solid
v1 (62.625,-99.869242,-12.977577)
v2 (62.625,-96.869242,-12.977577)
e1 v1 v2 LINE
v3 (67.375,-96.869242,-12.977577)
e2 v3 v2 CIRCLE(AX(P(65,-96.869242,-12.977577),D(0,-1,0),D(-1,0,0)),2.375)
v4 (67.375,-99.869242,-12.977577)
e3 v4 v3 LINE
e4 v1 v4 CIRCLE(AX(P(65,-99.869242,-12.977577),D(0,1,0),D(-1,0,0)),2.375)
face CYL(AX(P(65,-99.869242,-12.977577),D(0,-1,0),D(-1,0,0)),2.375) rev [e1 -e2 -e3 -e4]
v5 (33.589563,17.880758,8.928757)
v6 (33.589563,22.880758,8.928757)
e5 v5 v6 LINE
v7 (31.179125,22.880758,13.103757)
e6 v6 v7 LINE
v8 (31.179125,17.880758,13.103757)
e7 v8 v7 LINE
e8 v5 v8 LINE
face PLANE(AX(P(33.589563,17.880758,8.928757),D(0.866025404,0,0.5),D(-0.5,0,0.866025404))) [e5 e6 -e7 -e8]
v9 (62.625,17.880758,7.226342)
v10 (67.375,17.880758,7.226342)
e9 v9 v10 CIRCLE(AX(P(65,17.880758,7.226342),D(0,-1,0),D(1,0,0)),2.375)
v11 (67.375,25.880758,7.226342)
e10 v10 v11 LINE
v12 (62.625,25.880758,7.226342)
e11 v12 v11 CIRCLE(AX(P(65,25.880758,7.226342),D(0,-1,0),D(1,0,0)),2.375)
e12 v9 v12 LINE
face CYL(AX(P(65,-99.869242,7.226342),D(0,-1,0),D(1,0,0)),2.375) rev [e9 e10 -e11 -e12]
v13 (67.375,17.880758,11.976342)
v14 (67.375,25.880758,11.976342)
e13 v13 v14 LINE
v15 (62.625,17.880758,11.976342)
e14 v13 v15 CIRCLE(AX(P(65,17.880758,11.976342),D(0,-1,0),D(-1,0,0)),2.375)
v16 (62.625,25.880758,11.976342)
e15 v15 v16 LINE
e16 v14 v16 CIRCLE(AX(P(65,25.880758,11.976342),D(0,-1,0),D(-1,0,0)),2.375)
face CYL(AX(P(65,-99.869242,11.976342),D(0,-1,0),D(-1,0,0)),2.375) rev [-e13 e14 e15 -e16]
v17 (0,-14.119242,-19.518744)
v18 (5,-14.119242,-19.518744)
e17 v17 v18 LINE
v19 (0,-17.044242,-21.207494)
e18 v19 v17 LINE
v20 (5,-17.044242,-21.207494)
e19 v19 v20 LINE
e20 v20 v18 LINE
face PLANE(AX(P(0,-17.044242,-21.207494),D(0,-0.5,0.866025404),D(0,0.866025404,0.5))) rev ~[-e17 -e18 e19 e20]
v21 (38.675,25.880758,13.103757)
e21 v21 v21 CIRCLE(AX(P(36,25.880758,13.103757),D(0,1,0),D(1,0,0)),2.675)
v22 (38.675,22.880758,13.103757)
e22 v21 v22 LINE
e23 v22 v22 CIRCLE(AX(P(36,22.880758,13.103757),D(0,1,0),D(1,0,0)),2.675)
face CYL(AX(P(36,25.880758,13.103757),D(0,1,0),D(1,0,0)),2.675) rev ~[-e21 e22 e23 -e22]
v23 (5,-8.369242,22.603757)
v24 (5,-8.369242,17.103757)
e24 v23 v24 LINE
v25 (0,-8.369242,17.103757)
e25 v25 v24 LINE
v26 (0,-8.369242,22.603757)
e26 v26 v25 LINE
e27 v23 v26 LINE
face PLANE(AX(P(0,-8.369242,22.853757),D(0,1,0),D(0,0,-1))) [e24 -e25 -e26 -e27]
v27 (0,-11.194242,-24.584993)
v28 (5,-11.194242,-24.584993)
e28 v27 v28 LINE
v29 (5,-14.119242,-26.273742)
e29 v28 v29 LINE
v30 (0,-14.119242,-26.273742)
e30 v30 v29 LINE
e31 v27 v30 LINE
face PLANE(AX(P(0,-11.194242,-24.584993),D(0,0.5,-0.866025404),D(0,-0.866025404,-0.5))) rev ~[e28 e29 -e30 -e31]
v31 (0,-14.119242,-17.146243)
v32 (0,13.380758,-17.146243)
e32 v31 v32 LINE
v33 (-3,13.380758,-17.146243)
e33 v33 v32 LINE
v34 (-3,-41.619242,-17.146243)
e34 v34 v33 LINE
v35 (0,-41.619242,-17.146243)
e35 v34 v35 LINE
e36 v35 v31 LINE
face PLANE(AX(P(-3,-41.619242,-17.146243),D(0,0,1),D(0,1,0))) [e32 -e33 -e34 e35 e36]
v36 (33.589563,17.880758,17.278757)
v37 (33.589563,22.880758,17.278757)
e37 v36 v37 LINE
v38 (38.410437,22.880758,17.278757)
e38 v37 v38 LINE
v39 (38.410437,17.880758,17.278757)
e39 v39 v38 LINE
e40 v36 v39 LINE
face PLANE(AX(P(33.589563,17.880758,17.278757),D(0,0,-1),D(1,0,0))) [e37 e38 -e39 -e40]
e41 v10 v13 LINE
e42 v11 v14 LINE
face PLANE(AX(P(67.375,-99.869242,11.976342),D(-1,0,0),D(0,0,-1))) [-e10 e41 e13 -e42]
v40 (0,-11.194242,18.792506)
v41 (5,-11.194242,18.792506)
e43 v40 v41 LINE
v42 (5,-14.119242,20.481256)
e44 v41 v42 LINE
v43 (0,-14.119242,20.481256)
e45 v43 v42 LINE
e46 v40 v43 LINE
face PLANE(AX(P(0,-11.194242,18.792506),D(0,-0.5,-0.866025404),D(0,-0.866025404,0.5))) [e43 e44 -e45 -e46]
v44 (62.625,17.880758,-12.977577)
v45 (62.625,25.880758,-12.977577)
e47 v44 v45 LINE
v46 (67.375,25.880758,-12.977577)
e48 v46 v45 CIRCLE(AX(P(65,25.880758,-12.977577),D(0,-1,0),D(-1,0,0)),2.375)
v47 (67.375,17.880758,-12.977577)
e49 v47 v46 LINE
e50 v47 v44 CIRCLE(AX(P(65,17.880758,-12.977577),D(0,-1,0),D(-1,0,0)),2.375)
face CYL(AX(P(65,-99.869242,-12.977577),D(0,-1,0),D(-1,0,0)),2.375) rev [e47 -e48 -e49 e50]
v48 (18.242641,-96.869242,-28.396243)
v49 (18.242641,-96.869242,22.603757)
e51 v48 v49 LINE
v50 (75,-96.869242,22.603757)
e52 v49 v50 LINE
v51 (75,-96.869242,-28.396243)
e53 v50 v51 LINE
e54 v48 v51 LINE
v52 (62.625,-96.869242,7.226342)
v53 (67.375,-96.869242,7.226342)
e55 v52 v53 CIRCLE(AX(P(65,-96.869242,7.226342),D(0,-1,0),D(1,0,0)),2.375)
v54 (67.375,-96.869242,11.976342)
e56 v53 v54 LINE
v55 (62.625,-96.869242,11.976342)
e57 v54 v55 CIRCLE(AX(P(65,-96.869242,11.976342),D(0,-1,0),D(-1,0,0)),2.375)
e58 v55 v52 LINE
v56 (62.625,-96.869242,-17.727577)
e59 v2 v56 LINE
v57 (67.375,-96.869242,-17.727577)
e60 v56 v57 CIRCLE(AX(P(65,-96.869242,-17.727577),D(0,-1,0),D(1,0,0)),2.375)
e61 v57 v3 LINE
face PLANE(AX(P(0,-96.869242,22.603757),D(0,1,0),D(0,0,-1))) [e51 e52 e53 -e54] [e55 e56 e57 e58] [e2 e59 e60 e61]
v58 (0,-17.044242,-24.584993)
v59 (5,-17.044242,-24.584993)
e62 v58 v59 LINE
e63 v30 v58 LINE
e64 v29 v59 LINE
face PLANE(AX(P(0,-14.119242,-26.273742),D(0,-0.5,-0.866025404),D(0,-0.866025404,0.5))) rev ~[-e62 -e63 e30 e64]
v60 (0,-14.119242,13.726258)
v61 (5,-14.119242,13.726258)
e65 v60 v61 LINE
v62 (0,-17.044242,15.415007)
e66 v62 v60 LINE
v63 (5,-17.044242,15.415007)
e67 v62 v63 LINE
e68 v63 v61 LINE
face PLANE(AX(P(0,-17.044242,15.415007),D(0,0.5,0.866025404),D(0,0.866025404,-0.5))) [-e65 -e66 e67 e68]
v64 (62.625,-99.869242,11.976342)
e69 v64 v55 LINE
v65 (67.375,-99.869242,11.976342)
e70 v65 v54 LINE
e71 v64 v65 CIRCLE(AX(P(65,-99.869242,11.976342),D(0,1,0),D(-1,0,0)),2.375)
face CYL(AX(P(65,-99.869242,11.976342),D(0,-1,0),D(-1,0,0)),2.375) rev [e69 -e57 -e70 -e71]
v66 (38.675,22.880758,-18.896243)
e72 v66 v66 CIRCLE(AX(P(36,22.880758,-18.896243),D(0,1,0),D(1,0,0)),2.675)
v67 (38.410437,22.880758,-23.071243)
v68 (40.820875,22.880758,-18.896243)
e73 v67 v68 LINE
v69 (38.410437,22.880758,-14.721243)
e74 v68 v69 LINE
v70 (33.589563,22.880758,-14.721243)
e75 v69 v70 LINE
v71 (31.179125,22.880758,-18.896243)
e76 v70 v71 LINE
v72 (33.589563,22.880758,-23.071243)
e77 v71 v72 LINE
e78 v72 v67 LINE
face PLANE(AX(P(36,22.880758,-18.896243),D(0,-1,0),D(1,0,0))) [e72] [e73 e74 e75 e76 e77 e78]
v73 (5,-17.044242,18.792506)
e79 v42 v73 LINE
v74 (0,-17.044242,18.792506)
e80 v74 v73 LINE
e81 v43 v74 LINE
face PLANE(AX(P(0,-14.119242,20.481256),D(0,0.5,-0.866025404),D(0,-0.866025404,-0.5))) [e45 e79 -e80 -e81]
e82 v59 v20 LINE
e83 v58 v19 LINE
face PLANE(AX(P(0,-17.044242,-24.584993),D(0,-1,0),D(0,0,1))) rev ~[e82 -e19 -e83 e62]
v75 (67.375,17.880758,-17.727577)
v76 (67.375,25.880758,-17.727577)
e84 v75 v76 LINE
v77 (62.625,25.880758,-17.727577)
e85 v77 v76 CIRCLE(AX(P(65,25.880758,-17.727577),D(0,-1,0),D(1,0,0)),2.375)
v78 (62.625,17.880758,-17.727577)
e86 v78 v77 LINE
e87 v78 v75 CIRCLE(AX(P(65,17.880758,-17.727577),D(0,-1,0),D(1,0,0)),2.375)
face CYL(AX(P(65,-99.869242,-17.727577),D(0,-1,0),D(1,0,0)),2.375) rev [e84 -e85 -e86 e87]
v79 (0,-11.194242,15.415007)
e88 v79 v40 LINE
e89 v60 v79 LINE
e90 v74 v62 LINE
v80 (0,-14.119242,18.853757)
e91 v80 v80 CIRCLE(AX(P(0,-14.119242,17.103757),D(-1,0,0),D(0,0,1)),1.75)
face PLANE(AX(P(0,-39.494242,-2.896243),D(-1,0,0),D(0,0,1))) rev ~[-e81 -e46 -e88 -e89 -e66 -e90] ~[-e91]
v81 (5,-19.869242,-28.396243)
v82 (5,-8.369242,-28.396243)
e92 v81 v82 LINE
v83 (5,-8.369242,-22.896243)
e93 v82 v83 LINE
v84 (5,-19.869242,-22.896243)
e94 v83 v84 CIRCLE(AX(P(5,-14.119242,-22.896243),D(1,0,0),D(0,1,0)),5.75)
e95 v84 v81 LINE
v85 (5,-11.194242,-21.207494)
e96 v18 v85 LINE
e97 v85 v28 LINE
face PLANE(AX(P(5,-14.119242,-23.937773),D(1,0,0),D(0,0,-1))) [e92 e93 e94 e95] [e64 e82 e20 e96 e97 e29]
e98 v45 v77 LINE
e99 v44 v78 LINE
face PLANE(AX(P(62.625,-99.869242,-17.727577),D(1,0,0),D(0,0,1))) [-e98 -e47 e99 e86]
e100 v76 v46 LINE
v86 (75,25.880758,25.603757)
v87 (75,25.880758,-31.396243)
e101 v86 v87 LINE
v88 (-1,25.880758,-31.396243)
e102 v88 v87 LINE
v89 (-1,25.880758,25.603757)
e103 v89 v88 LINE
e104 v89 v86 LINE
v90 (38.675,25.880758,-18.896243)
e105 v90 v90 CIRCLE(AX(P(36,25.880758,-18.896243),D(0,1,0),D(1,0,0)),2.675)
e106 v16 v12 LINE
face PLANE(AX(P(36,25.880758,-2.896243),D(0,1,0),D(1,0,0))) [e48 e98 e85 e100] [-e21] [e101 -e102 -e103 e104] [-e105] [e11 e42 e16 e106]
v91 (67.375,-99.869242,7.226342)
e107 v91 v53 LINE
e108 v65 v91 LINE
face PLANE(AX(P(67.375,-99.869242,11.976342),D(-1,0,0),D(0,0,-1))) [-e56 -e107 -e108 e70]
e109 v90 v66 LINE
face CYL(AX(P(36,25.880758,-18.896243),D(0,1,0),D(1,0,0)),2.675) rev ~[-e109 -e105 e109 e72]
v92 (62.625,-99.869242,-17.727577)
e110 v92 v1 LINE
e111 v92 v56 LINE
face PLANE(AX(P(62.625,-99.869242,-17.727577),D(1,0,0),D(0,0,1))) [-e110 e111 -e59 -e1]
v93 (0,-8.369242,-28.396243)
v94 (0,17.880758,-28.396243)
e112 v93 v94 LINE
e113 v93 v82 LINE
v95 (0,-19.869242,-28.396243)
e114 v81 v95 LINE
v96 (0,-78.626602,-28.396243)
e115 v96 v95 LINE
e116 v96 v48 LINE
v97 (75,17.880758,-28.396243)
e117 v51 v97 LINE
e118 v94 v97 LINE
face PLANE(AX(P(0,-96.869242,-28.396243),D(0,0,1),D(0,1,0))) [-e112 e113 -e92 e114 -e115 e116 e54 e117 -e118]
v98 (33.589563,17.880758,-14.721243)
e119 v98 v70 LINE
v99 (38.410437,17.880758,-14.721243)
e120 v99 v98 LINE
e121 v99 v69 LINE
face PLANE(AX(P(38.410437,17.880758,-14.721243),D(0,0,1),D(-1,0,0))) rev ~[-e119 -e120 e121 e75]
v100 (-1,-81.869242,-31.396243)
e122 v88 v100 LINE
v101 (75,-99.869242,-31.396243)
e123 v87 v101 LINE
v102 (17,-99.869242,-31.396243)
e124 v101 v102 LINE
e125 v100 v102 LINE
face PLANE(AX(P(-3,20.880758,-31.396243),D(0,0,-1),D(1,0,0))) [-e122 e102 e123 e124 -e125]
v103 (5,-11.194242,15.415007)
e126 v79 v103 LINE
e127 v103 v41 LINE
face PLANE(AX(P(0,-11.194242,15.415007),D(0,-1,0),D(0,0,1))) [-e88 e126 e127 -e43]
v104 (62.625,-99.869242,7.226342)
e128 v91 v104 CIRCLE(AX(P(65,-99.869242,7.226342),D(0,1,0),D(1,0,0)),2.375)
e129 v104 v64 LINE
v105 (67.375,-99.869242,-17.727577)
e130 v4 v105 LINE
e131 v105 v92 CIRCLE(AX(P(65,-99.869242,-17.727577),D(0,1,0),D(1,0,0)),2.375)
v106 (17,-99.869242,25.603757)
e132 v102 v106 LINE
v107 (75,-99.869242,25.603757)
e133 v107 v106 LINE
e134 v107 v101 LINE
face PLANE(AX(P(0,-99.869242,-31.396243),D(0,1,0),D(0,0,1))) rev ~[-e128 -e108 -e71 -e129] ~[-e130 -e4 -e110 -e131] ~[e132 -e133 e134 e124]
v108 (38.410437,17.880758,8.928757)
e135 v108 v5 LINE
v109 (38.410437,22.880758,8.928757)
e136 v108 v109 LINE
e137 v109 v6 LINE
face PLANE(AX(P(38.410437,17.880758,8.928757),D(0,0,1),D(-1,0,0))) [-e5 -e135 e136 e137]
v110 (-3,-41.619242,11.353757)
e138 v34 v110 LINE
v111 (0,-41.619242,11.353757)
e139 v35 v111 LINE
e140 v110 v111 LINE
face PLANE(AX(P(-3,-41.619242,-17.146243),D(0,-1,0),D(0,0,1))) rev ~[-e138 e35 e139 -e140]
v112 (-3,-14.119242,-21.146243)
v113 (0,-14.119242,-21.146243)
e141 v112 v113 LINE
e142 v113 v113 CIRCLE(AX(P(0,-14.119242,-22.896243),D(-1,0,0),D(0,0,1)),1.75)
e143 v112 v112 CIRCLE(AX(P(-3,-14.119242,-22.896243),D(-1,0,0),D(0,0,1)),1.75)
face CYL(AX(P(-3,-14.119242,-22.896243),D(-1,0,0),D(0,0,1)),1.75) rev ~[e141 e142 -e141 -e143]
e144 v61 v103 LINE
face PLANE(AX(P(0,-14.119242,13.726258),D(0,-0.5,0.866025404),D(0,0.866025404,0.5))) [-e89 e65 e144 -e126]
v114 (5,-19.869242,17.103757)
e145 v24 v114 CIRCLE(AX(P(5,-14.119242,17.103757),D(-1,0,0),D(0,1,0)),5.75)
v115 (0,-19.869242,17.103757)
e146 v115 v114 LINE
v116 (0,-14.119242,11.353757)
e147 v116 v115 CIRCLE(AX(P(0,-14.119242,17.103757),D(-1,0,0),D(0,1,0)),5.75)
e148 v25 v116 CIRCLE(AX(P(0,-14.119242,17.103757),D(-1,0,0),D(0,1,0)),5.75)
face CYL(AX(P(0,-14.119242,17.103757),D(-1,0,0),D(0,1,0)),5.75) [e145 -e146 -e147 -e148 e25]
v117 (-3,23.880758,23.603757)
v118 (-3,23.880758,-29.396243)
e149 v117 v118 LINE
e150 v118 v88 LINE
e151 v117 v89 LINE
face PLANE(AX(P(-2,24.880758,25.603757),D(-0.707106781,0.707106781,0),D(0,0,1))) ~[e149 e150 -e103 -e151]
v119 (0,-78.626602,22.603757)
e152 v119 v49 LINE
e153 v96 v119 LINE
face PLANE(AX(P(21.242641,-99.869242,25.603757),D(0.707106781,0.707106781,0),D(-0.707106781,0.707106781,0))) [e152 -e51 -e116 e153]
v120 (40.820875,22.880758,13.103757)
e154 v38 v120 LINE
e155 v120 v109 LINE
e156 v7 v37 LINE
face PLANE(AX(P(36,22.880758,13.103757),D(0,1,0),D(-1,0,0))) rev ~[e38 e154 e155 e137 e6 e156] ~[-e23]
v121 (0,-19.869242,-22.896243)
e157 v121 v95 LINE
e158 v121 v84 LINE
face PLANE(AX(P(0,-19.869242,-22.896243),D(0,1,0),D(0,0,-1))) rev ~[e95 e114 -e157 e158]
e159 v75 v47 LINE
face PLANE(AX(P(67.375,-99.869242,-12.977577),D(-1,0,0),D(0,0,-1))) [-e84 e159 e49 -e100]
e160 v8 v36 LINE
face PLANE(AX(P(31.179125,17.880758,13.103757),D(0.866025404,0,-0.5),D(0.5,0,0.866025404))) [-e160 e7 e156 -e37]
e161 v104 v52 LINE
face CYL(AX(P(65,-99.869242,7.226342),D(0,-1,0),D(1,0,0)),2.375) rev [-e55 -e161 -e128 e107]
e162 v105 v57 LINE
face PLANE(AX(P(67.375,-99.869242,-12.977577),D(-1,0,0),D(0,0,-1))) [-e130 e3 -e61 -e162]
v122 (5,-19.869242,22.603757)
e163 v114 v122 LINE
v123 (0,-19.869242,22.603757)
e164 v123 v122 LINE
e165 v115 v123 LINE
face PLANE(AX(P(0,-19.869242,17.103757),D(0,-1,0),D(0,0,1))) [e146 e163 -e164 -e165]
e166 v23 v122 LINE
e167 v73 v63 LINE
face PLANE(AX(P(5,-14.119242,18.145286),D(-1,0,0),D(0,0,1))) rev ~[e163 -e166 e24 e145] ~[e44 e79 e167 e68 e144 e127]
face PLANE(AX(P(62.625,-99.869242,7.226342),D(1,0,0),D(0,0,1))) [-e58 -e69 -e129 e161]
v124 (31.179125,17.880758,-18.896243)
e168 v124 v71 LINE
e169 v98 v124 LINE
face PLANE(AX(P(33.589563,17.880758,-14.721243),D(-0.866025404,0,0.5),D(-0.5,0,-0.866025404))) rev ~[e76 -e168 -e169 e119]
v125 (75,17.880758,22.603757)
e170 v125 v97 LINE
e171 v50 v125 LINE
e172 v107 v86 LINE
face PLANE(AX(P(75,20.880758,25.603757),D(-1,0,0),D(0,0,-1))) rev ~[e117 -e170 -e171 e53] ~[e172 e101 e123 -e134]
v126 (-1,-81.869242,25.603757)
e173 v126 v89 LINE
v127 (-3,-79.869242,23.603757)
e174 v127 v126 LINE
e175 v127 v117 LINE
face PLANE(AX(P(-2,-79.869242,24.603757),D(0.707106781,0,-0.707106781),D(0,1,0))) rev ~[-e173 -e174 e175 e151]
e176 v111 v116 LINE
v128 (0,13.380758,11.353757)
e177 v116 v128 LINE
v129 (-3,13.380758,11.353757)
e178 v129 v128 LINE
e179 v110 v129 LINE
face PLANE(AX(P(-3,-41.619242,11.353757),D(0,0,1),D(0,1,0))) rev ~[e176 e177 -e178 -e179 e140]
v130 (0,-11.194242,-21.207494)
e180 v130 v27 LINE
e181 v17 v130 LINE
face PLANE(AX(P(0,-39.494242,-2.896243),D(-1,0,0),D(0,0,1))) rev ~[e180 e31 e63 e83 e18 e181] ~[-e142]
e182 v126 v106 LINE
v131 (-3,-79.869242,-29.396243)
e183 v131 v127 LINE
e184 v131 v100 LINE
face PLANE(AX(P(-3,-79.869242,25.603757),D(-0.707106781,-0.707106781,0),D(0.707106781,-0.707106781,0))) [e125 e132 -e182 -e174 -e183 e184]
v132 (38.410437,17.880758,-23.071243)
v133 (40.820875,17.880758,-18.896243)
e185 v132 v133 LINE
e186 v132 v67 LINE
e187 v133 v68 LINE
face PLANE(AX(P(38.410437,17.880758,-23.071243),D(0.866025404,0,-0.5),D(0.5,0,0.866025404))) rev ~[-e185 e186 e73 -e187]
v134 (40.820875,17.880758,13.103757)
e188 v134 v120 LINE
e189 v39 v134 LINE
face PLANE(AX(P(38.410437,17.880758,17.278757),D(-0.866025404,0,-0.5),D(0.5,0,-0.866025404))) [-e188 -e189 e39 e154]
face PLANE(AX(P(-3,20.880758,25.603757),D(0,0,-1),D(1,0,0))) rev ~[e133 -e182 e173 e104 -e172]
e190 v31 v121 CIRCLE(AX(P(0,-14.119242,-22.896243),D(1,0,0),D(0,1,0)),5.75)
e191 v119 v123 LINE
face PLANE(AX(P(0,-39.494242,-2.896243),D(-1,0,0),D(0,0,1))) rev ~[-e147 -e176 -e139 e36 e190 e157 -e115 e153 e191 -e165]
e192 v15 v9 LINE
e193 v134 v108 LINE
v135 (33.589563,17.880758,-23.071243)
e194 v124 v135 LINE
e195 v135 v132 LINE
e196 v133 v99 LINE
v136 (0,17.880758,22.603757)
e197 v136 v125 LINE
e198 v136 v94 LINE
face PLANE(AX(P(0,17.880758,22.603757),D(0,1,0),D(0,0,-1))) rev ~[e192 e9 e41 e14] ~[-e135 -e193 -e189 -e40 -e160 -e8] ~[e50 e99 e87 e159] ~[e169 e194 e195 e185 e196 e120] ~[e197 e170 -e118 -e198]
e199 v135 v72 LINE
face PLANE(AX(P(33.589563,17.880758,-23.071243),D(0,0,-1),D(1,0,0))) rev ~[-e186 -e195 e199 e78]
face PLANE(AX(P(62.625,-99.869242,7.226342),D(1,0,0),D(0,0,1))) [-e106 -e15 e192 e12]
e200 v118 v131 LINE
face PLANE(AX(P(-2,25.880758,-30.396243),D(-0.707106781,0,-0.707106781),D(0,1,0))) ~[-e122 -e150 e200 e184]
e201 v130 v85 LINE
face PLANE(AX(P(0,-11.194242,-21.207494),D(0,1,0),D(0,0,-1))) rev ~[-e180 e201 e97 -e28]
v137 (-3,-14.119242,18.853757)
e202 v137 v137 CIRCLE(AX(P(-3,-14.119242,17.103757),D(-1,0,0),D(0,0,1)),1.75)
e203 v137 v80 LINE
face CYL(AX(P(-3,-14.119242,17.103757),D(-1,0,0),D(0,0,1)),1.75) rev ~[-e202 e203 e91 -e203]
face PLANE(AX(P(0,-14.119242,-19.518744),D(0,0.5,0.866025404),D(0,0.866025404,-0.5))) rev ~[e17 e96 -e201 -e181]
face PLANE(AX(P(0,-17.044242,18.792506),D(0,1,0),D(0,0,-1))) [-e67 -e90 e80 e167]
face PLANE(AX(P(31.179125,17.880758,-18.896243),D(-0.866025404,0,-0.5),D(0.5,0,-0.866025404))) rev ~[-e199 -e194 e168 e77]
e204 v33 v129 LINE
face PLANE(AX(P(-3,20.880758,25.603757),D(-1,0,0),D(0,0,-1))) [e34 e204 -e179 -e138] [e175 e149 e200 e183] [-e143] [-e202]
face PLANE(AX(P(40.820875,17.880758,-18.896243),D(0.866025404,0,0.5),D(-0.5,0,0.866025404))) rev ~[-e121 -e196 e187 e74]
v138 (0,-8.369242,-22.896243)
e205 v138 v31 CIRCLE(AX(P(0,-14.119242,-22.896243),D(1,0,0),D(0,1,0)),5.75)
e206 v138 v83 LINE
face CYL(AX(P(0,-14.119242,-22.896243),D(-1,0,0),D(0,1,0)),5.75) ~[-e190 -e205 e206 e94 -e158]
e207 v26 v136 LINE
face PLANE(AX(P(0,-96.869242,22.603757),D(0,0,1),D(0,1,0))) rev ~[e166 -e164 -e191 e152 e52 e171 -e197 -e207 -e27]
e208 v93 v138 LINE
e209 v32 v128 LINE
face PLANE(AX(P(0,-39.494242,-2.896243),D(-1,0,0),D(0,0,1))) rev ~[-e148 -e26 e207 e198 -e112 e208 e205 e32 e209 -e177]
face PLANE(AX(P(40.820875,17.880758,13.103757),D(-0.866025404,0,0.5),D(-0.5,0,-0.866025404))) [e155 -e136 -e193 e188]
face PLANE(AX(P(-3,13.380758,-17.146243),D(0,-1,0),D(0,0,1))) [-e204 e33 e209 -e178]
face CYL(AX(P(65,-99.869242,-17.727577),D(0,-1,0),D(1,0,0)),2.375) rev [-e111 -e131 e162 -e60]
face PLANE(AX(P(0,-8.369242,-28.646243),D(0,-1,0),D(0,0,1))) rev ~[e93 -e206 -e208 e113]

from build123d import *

# Parameters (mm, degrees)
SKETCH2_W           = 57
SKETCH2_H           = 120.75
SKETCH2_W_2         = 51
SKETCH2_H_2         = 114.75
BOSS_EXTRUDE1_DEPTH = 75
SKETCH3_W           = 57
SKETCH3_H           = 120.75
BOSS_EXTRUDE2_DEPTH = 3
SKETCH4_W           = 78
SKETCH4_H           = 57
BOSS_EXTRUDE3_DEPTH = 5
SKETCH6_R           = 2.675
CUT_EXTRUDE2_DEPTH  = 10
CUT_EXTRUDE3_DEPTH  = 58
BOSS_EXTRUDE4_REACH = 59
CUT_EXTRUDE7_DEPTH  = 126.75
SKETCH18_R          = 1.75
SKETCH18_W          = 28.5
SKETCH18_H          = 55
CUT_EXTRUDE8_DEPTH  = 10
BOSS_EXTRUDE6_DEPTH = 5
CUT_EXTRUDE9_DEPTH  = 5
CHAMFER1_SIZE       = 2


with BuildPart() as part:
    # Sketch2 → Boss-Extrude1 (new body)
    with BuildSketch(Plane(origin=(0, 0, 0), x_dir=(0, 0, -1), z_dir=(1, 0, 0))):
        with Locations((2.896243414, -39.494242434)):
            Rectangle(SKETCH2_W, SKETCH2_H)
        with Locations((2.896243414, -39.494242434)):
            Rectangle(SKETCH2_W_2, SKETCH2_H_2, mode=Mode.SUBTRACT)
    extrude(amount=BOSS_EXTRUDE1_DEPTH)

    # Sketch3 → Boss-Extrude2 (add)
    with BuildSketch(Plane.ZY):
        with Locations((-2.896243414, -39.494242434)):
            Rectangle(SKETCH3_W, SKETCH3_H)
    extrude(amount=BOSS_EXTRUDE2_DEPTH)

    # Sketch4 → Boss-Extrude3 (add)
    with BuildSketch(Plane(origin=(0, 20.880757566, 0), x_dir=(1, 0, 0), z_dir=(0, 1, 0))):
        with Locations((36, 2.896243414)):
            Rectangle(SKETCH4_W, SKETCH4_H)
    extrude(amount=BOSS_EXTRUDE3_DEPTH)

    # Sketch6 → Cut-Extrude2 (cut)
    with BuildSketch(Plane(origin=(0, 25.880757566, 0), x_dir=(1, 0, 0), z_dir=(0, 1, 0))):
        with Locations((36, 18.896243414)):
            Circle(SKETCH6_R)
        with Locations((36, -13.103756586)):
            Circle(SKETCH6_R)
    extrude(amount=-CUT_EXTRUDE2_DEPTH, mode=Mode.SUBTRACT)

    # Sketch8 → Cut-Extrude3 (cut, through all)
    with BuildSketch(Plane(origin=(0, 0, -31.396243414), x_dir=(-1, 0, 0), z_dir=(0, 0, -1))):
        Polygon((3, -99.869242434), (3, -79.869242434), (-17, -99.869242434), align=None)
    extrude(amount=-CUT_EXTRUDE3_DEPTH, mode=Mode.SUBTRACT)

    # Sketch9 → Boss-Extrude4 (add, up to next)
    with BuildSketch(Plane.XY.offset(25.603756586), mode=Mode.PRIVATE) as boss_extrude4_sk1:
        Polygon((-3, -79.869242434), (17, -99.869242434), (21.242640687, -99.869242434), (-3, -75.626601747), align=None)
    boss_extrude4_tool1 = extrude(boss_extrude4_sk1.sketch, amount=-BOSS_EXTRUDE4_REACH, mode=Mode.PRIVATE) - part.part
    add(boss_extrude4_tool1.solids().sort_by_distance((8.094564, -88.774678, 25.603757))[0])

    # Sketch15 → Cut-Extrude7 (cut, through all)
    with BuildSketch(Plane.XZ.offset(99.869242434)):
        with BuildLine():
            Line((62.625, 7.226342188), (62.625, 11.976342188))
            ThreePointArc((62.625, 11.976342188), (65, 14.351342188), (67.375, 11.976342188))
            Line((67.375, 11.976342188), (67.375, 7.226342188))
            ThreePointArc((67.375, 7.226342188), (65, 4.851342188), (62.625, 7.226342188))
        make_face()
        with BuildLine():
            Line((62.625, -17.72757696), (62.625, -12.97757696))
            ThreePointArc((62.625, -12.97757696), (65, -10.60257696), (67.375, -12.97757696))
            Line((67.375, -12.97757696), (67.375, -17.72757696))
            ThreePointArc((67.375, -17.72757696), (65, -20.10257696), (62.625, -17.72757696))
        make_face()
    extrude(amount=-CUT_EXTRUDE7_DEPTH, mode=Mode.SUBTRACT)

    # Sketch18 → Cut-Extrude8 (cut)
    with BuildSketch(Plane.ZY.offset(3)):
        with Locations((-22.896243414, -14.119242434)):
            Circle(SKETCH18_R)
        with Locations((17.103756586, -14.119242434)):
            Circle(SKETCH18_R)
        with Locations((-2.896243414, -14.119242434)):
            Rectangle(SKETCH18_W, SKETCH18_H)
    extrude(amount=-CUT_EXTRUDE8_DEPTH, mode=Mode.SUBTRACT)

    # Sketch21 → Boss-Extrude6 (add)
    with BuildSketch(Plane(origin=(0, 0, 0), x_dir=(0, 0, -1), z_dir=(1, 0, 0))):
        with BuildLine():
            Line((22.896243414, -19.869242434), (28.646243414, -19.869242434))
            Line((28.646243414, -19.869242434), (28.646243414, -8.369242434))
            Line((28.646243414, -8.369242434), (22.896243414, -8.369242434))
            ThreePointArc((22.896243414, -8.369242434), (17.146243414, -14.119242434), (22.896243414, -19.869242434))
        make_face()
        Polygon((19.518744339, -14.119242434), (21.207493877, -11.194242434), (24.584992952, -11.194242434), (26.273742489, -14.119242434), (24.584992952, -17.044242434), (21.207493877, -17.044242434), align=None, mode=Mode.SUBTRACT)
        with BuildLine():
            Line((-17.103756586, -19.869242434), (-22.853756586, -19.869242434))
            Line((-22.853756586, -19.869242434), (-22.853756586, -8.369242434))
            Line((-22.853756586, -8.369242434), (-17.103756586, -8.369242434))
            ThreePointArc((-17.103756586, -8.369242434), (-11.353756586, -14.119242434), (-17.103756586, -19.869242434))
        make_face()
        Polygon((-15.415007048, -11.194242434), (-18.792506123, -11.194242434), (-20.481255661, -14.119242434), (-18.792506123, -17.044242434), (-15.415007048, -17.044242434), (-13.726257511, -14.119242434), align=None, mode=Mode.SUBTRACT)
    extrude(amount=BOSS_EXTRUDE6_DEPTH)

    # Sketch22 → Cut-Extrude9 (cut)
    with BuildSketch(Plane.XZ.offset(-17.880757566)):
        Polygon((40.820874748, -18.896243414), (38.410437374, -14.721243414), (33.589562626, -14.721243414), (31.179125252, -18.896243414), (33.589562626, -23.071243414), (38.410437374, -23.071243414), align=None)
        Polygon((38.410437374, 17.278756586), (40.820874748, 13.103756586), (38.410437374, 8.928756586), (33.589562626, 8.928756586), (31.179125252, 13.103756586), (33.589562626, 17.278756586), align=None)
    extrude(amount=-CUT_EXTRUDE9_DEPTH, mode=Mode.SUBTRACT)

    # Chamfer1
    chamfer1_edges = [part.edges().sort_by_distance(p)[0] for p in [
        (-3, -26.994242434, -31.396243414),
        (-3, 25.880757566, -2.896243414),
        (-3, -26.994242434, 25.603756586),
    ]]
    chamfer(chamfer1_edges, length=CHAMFER1_SIZE)


solid = part.part
